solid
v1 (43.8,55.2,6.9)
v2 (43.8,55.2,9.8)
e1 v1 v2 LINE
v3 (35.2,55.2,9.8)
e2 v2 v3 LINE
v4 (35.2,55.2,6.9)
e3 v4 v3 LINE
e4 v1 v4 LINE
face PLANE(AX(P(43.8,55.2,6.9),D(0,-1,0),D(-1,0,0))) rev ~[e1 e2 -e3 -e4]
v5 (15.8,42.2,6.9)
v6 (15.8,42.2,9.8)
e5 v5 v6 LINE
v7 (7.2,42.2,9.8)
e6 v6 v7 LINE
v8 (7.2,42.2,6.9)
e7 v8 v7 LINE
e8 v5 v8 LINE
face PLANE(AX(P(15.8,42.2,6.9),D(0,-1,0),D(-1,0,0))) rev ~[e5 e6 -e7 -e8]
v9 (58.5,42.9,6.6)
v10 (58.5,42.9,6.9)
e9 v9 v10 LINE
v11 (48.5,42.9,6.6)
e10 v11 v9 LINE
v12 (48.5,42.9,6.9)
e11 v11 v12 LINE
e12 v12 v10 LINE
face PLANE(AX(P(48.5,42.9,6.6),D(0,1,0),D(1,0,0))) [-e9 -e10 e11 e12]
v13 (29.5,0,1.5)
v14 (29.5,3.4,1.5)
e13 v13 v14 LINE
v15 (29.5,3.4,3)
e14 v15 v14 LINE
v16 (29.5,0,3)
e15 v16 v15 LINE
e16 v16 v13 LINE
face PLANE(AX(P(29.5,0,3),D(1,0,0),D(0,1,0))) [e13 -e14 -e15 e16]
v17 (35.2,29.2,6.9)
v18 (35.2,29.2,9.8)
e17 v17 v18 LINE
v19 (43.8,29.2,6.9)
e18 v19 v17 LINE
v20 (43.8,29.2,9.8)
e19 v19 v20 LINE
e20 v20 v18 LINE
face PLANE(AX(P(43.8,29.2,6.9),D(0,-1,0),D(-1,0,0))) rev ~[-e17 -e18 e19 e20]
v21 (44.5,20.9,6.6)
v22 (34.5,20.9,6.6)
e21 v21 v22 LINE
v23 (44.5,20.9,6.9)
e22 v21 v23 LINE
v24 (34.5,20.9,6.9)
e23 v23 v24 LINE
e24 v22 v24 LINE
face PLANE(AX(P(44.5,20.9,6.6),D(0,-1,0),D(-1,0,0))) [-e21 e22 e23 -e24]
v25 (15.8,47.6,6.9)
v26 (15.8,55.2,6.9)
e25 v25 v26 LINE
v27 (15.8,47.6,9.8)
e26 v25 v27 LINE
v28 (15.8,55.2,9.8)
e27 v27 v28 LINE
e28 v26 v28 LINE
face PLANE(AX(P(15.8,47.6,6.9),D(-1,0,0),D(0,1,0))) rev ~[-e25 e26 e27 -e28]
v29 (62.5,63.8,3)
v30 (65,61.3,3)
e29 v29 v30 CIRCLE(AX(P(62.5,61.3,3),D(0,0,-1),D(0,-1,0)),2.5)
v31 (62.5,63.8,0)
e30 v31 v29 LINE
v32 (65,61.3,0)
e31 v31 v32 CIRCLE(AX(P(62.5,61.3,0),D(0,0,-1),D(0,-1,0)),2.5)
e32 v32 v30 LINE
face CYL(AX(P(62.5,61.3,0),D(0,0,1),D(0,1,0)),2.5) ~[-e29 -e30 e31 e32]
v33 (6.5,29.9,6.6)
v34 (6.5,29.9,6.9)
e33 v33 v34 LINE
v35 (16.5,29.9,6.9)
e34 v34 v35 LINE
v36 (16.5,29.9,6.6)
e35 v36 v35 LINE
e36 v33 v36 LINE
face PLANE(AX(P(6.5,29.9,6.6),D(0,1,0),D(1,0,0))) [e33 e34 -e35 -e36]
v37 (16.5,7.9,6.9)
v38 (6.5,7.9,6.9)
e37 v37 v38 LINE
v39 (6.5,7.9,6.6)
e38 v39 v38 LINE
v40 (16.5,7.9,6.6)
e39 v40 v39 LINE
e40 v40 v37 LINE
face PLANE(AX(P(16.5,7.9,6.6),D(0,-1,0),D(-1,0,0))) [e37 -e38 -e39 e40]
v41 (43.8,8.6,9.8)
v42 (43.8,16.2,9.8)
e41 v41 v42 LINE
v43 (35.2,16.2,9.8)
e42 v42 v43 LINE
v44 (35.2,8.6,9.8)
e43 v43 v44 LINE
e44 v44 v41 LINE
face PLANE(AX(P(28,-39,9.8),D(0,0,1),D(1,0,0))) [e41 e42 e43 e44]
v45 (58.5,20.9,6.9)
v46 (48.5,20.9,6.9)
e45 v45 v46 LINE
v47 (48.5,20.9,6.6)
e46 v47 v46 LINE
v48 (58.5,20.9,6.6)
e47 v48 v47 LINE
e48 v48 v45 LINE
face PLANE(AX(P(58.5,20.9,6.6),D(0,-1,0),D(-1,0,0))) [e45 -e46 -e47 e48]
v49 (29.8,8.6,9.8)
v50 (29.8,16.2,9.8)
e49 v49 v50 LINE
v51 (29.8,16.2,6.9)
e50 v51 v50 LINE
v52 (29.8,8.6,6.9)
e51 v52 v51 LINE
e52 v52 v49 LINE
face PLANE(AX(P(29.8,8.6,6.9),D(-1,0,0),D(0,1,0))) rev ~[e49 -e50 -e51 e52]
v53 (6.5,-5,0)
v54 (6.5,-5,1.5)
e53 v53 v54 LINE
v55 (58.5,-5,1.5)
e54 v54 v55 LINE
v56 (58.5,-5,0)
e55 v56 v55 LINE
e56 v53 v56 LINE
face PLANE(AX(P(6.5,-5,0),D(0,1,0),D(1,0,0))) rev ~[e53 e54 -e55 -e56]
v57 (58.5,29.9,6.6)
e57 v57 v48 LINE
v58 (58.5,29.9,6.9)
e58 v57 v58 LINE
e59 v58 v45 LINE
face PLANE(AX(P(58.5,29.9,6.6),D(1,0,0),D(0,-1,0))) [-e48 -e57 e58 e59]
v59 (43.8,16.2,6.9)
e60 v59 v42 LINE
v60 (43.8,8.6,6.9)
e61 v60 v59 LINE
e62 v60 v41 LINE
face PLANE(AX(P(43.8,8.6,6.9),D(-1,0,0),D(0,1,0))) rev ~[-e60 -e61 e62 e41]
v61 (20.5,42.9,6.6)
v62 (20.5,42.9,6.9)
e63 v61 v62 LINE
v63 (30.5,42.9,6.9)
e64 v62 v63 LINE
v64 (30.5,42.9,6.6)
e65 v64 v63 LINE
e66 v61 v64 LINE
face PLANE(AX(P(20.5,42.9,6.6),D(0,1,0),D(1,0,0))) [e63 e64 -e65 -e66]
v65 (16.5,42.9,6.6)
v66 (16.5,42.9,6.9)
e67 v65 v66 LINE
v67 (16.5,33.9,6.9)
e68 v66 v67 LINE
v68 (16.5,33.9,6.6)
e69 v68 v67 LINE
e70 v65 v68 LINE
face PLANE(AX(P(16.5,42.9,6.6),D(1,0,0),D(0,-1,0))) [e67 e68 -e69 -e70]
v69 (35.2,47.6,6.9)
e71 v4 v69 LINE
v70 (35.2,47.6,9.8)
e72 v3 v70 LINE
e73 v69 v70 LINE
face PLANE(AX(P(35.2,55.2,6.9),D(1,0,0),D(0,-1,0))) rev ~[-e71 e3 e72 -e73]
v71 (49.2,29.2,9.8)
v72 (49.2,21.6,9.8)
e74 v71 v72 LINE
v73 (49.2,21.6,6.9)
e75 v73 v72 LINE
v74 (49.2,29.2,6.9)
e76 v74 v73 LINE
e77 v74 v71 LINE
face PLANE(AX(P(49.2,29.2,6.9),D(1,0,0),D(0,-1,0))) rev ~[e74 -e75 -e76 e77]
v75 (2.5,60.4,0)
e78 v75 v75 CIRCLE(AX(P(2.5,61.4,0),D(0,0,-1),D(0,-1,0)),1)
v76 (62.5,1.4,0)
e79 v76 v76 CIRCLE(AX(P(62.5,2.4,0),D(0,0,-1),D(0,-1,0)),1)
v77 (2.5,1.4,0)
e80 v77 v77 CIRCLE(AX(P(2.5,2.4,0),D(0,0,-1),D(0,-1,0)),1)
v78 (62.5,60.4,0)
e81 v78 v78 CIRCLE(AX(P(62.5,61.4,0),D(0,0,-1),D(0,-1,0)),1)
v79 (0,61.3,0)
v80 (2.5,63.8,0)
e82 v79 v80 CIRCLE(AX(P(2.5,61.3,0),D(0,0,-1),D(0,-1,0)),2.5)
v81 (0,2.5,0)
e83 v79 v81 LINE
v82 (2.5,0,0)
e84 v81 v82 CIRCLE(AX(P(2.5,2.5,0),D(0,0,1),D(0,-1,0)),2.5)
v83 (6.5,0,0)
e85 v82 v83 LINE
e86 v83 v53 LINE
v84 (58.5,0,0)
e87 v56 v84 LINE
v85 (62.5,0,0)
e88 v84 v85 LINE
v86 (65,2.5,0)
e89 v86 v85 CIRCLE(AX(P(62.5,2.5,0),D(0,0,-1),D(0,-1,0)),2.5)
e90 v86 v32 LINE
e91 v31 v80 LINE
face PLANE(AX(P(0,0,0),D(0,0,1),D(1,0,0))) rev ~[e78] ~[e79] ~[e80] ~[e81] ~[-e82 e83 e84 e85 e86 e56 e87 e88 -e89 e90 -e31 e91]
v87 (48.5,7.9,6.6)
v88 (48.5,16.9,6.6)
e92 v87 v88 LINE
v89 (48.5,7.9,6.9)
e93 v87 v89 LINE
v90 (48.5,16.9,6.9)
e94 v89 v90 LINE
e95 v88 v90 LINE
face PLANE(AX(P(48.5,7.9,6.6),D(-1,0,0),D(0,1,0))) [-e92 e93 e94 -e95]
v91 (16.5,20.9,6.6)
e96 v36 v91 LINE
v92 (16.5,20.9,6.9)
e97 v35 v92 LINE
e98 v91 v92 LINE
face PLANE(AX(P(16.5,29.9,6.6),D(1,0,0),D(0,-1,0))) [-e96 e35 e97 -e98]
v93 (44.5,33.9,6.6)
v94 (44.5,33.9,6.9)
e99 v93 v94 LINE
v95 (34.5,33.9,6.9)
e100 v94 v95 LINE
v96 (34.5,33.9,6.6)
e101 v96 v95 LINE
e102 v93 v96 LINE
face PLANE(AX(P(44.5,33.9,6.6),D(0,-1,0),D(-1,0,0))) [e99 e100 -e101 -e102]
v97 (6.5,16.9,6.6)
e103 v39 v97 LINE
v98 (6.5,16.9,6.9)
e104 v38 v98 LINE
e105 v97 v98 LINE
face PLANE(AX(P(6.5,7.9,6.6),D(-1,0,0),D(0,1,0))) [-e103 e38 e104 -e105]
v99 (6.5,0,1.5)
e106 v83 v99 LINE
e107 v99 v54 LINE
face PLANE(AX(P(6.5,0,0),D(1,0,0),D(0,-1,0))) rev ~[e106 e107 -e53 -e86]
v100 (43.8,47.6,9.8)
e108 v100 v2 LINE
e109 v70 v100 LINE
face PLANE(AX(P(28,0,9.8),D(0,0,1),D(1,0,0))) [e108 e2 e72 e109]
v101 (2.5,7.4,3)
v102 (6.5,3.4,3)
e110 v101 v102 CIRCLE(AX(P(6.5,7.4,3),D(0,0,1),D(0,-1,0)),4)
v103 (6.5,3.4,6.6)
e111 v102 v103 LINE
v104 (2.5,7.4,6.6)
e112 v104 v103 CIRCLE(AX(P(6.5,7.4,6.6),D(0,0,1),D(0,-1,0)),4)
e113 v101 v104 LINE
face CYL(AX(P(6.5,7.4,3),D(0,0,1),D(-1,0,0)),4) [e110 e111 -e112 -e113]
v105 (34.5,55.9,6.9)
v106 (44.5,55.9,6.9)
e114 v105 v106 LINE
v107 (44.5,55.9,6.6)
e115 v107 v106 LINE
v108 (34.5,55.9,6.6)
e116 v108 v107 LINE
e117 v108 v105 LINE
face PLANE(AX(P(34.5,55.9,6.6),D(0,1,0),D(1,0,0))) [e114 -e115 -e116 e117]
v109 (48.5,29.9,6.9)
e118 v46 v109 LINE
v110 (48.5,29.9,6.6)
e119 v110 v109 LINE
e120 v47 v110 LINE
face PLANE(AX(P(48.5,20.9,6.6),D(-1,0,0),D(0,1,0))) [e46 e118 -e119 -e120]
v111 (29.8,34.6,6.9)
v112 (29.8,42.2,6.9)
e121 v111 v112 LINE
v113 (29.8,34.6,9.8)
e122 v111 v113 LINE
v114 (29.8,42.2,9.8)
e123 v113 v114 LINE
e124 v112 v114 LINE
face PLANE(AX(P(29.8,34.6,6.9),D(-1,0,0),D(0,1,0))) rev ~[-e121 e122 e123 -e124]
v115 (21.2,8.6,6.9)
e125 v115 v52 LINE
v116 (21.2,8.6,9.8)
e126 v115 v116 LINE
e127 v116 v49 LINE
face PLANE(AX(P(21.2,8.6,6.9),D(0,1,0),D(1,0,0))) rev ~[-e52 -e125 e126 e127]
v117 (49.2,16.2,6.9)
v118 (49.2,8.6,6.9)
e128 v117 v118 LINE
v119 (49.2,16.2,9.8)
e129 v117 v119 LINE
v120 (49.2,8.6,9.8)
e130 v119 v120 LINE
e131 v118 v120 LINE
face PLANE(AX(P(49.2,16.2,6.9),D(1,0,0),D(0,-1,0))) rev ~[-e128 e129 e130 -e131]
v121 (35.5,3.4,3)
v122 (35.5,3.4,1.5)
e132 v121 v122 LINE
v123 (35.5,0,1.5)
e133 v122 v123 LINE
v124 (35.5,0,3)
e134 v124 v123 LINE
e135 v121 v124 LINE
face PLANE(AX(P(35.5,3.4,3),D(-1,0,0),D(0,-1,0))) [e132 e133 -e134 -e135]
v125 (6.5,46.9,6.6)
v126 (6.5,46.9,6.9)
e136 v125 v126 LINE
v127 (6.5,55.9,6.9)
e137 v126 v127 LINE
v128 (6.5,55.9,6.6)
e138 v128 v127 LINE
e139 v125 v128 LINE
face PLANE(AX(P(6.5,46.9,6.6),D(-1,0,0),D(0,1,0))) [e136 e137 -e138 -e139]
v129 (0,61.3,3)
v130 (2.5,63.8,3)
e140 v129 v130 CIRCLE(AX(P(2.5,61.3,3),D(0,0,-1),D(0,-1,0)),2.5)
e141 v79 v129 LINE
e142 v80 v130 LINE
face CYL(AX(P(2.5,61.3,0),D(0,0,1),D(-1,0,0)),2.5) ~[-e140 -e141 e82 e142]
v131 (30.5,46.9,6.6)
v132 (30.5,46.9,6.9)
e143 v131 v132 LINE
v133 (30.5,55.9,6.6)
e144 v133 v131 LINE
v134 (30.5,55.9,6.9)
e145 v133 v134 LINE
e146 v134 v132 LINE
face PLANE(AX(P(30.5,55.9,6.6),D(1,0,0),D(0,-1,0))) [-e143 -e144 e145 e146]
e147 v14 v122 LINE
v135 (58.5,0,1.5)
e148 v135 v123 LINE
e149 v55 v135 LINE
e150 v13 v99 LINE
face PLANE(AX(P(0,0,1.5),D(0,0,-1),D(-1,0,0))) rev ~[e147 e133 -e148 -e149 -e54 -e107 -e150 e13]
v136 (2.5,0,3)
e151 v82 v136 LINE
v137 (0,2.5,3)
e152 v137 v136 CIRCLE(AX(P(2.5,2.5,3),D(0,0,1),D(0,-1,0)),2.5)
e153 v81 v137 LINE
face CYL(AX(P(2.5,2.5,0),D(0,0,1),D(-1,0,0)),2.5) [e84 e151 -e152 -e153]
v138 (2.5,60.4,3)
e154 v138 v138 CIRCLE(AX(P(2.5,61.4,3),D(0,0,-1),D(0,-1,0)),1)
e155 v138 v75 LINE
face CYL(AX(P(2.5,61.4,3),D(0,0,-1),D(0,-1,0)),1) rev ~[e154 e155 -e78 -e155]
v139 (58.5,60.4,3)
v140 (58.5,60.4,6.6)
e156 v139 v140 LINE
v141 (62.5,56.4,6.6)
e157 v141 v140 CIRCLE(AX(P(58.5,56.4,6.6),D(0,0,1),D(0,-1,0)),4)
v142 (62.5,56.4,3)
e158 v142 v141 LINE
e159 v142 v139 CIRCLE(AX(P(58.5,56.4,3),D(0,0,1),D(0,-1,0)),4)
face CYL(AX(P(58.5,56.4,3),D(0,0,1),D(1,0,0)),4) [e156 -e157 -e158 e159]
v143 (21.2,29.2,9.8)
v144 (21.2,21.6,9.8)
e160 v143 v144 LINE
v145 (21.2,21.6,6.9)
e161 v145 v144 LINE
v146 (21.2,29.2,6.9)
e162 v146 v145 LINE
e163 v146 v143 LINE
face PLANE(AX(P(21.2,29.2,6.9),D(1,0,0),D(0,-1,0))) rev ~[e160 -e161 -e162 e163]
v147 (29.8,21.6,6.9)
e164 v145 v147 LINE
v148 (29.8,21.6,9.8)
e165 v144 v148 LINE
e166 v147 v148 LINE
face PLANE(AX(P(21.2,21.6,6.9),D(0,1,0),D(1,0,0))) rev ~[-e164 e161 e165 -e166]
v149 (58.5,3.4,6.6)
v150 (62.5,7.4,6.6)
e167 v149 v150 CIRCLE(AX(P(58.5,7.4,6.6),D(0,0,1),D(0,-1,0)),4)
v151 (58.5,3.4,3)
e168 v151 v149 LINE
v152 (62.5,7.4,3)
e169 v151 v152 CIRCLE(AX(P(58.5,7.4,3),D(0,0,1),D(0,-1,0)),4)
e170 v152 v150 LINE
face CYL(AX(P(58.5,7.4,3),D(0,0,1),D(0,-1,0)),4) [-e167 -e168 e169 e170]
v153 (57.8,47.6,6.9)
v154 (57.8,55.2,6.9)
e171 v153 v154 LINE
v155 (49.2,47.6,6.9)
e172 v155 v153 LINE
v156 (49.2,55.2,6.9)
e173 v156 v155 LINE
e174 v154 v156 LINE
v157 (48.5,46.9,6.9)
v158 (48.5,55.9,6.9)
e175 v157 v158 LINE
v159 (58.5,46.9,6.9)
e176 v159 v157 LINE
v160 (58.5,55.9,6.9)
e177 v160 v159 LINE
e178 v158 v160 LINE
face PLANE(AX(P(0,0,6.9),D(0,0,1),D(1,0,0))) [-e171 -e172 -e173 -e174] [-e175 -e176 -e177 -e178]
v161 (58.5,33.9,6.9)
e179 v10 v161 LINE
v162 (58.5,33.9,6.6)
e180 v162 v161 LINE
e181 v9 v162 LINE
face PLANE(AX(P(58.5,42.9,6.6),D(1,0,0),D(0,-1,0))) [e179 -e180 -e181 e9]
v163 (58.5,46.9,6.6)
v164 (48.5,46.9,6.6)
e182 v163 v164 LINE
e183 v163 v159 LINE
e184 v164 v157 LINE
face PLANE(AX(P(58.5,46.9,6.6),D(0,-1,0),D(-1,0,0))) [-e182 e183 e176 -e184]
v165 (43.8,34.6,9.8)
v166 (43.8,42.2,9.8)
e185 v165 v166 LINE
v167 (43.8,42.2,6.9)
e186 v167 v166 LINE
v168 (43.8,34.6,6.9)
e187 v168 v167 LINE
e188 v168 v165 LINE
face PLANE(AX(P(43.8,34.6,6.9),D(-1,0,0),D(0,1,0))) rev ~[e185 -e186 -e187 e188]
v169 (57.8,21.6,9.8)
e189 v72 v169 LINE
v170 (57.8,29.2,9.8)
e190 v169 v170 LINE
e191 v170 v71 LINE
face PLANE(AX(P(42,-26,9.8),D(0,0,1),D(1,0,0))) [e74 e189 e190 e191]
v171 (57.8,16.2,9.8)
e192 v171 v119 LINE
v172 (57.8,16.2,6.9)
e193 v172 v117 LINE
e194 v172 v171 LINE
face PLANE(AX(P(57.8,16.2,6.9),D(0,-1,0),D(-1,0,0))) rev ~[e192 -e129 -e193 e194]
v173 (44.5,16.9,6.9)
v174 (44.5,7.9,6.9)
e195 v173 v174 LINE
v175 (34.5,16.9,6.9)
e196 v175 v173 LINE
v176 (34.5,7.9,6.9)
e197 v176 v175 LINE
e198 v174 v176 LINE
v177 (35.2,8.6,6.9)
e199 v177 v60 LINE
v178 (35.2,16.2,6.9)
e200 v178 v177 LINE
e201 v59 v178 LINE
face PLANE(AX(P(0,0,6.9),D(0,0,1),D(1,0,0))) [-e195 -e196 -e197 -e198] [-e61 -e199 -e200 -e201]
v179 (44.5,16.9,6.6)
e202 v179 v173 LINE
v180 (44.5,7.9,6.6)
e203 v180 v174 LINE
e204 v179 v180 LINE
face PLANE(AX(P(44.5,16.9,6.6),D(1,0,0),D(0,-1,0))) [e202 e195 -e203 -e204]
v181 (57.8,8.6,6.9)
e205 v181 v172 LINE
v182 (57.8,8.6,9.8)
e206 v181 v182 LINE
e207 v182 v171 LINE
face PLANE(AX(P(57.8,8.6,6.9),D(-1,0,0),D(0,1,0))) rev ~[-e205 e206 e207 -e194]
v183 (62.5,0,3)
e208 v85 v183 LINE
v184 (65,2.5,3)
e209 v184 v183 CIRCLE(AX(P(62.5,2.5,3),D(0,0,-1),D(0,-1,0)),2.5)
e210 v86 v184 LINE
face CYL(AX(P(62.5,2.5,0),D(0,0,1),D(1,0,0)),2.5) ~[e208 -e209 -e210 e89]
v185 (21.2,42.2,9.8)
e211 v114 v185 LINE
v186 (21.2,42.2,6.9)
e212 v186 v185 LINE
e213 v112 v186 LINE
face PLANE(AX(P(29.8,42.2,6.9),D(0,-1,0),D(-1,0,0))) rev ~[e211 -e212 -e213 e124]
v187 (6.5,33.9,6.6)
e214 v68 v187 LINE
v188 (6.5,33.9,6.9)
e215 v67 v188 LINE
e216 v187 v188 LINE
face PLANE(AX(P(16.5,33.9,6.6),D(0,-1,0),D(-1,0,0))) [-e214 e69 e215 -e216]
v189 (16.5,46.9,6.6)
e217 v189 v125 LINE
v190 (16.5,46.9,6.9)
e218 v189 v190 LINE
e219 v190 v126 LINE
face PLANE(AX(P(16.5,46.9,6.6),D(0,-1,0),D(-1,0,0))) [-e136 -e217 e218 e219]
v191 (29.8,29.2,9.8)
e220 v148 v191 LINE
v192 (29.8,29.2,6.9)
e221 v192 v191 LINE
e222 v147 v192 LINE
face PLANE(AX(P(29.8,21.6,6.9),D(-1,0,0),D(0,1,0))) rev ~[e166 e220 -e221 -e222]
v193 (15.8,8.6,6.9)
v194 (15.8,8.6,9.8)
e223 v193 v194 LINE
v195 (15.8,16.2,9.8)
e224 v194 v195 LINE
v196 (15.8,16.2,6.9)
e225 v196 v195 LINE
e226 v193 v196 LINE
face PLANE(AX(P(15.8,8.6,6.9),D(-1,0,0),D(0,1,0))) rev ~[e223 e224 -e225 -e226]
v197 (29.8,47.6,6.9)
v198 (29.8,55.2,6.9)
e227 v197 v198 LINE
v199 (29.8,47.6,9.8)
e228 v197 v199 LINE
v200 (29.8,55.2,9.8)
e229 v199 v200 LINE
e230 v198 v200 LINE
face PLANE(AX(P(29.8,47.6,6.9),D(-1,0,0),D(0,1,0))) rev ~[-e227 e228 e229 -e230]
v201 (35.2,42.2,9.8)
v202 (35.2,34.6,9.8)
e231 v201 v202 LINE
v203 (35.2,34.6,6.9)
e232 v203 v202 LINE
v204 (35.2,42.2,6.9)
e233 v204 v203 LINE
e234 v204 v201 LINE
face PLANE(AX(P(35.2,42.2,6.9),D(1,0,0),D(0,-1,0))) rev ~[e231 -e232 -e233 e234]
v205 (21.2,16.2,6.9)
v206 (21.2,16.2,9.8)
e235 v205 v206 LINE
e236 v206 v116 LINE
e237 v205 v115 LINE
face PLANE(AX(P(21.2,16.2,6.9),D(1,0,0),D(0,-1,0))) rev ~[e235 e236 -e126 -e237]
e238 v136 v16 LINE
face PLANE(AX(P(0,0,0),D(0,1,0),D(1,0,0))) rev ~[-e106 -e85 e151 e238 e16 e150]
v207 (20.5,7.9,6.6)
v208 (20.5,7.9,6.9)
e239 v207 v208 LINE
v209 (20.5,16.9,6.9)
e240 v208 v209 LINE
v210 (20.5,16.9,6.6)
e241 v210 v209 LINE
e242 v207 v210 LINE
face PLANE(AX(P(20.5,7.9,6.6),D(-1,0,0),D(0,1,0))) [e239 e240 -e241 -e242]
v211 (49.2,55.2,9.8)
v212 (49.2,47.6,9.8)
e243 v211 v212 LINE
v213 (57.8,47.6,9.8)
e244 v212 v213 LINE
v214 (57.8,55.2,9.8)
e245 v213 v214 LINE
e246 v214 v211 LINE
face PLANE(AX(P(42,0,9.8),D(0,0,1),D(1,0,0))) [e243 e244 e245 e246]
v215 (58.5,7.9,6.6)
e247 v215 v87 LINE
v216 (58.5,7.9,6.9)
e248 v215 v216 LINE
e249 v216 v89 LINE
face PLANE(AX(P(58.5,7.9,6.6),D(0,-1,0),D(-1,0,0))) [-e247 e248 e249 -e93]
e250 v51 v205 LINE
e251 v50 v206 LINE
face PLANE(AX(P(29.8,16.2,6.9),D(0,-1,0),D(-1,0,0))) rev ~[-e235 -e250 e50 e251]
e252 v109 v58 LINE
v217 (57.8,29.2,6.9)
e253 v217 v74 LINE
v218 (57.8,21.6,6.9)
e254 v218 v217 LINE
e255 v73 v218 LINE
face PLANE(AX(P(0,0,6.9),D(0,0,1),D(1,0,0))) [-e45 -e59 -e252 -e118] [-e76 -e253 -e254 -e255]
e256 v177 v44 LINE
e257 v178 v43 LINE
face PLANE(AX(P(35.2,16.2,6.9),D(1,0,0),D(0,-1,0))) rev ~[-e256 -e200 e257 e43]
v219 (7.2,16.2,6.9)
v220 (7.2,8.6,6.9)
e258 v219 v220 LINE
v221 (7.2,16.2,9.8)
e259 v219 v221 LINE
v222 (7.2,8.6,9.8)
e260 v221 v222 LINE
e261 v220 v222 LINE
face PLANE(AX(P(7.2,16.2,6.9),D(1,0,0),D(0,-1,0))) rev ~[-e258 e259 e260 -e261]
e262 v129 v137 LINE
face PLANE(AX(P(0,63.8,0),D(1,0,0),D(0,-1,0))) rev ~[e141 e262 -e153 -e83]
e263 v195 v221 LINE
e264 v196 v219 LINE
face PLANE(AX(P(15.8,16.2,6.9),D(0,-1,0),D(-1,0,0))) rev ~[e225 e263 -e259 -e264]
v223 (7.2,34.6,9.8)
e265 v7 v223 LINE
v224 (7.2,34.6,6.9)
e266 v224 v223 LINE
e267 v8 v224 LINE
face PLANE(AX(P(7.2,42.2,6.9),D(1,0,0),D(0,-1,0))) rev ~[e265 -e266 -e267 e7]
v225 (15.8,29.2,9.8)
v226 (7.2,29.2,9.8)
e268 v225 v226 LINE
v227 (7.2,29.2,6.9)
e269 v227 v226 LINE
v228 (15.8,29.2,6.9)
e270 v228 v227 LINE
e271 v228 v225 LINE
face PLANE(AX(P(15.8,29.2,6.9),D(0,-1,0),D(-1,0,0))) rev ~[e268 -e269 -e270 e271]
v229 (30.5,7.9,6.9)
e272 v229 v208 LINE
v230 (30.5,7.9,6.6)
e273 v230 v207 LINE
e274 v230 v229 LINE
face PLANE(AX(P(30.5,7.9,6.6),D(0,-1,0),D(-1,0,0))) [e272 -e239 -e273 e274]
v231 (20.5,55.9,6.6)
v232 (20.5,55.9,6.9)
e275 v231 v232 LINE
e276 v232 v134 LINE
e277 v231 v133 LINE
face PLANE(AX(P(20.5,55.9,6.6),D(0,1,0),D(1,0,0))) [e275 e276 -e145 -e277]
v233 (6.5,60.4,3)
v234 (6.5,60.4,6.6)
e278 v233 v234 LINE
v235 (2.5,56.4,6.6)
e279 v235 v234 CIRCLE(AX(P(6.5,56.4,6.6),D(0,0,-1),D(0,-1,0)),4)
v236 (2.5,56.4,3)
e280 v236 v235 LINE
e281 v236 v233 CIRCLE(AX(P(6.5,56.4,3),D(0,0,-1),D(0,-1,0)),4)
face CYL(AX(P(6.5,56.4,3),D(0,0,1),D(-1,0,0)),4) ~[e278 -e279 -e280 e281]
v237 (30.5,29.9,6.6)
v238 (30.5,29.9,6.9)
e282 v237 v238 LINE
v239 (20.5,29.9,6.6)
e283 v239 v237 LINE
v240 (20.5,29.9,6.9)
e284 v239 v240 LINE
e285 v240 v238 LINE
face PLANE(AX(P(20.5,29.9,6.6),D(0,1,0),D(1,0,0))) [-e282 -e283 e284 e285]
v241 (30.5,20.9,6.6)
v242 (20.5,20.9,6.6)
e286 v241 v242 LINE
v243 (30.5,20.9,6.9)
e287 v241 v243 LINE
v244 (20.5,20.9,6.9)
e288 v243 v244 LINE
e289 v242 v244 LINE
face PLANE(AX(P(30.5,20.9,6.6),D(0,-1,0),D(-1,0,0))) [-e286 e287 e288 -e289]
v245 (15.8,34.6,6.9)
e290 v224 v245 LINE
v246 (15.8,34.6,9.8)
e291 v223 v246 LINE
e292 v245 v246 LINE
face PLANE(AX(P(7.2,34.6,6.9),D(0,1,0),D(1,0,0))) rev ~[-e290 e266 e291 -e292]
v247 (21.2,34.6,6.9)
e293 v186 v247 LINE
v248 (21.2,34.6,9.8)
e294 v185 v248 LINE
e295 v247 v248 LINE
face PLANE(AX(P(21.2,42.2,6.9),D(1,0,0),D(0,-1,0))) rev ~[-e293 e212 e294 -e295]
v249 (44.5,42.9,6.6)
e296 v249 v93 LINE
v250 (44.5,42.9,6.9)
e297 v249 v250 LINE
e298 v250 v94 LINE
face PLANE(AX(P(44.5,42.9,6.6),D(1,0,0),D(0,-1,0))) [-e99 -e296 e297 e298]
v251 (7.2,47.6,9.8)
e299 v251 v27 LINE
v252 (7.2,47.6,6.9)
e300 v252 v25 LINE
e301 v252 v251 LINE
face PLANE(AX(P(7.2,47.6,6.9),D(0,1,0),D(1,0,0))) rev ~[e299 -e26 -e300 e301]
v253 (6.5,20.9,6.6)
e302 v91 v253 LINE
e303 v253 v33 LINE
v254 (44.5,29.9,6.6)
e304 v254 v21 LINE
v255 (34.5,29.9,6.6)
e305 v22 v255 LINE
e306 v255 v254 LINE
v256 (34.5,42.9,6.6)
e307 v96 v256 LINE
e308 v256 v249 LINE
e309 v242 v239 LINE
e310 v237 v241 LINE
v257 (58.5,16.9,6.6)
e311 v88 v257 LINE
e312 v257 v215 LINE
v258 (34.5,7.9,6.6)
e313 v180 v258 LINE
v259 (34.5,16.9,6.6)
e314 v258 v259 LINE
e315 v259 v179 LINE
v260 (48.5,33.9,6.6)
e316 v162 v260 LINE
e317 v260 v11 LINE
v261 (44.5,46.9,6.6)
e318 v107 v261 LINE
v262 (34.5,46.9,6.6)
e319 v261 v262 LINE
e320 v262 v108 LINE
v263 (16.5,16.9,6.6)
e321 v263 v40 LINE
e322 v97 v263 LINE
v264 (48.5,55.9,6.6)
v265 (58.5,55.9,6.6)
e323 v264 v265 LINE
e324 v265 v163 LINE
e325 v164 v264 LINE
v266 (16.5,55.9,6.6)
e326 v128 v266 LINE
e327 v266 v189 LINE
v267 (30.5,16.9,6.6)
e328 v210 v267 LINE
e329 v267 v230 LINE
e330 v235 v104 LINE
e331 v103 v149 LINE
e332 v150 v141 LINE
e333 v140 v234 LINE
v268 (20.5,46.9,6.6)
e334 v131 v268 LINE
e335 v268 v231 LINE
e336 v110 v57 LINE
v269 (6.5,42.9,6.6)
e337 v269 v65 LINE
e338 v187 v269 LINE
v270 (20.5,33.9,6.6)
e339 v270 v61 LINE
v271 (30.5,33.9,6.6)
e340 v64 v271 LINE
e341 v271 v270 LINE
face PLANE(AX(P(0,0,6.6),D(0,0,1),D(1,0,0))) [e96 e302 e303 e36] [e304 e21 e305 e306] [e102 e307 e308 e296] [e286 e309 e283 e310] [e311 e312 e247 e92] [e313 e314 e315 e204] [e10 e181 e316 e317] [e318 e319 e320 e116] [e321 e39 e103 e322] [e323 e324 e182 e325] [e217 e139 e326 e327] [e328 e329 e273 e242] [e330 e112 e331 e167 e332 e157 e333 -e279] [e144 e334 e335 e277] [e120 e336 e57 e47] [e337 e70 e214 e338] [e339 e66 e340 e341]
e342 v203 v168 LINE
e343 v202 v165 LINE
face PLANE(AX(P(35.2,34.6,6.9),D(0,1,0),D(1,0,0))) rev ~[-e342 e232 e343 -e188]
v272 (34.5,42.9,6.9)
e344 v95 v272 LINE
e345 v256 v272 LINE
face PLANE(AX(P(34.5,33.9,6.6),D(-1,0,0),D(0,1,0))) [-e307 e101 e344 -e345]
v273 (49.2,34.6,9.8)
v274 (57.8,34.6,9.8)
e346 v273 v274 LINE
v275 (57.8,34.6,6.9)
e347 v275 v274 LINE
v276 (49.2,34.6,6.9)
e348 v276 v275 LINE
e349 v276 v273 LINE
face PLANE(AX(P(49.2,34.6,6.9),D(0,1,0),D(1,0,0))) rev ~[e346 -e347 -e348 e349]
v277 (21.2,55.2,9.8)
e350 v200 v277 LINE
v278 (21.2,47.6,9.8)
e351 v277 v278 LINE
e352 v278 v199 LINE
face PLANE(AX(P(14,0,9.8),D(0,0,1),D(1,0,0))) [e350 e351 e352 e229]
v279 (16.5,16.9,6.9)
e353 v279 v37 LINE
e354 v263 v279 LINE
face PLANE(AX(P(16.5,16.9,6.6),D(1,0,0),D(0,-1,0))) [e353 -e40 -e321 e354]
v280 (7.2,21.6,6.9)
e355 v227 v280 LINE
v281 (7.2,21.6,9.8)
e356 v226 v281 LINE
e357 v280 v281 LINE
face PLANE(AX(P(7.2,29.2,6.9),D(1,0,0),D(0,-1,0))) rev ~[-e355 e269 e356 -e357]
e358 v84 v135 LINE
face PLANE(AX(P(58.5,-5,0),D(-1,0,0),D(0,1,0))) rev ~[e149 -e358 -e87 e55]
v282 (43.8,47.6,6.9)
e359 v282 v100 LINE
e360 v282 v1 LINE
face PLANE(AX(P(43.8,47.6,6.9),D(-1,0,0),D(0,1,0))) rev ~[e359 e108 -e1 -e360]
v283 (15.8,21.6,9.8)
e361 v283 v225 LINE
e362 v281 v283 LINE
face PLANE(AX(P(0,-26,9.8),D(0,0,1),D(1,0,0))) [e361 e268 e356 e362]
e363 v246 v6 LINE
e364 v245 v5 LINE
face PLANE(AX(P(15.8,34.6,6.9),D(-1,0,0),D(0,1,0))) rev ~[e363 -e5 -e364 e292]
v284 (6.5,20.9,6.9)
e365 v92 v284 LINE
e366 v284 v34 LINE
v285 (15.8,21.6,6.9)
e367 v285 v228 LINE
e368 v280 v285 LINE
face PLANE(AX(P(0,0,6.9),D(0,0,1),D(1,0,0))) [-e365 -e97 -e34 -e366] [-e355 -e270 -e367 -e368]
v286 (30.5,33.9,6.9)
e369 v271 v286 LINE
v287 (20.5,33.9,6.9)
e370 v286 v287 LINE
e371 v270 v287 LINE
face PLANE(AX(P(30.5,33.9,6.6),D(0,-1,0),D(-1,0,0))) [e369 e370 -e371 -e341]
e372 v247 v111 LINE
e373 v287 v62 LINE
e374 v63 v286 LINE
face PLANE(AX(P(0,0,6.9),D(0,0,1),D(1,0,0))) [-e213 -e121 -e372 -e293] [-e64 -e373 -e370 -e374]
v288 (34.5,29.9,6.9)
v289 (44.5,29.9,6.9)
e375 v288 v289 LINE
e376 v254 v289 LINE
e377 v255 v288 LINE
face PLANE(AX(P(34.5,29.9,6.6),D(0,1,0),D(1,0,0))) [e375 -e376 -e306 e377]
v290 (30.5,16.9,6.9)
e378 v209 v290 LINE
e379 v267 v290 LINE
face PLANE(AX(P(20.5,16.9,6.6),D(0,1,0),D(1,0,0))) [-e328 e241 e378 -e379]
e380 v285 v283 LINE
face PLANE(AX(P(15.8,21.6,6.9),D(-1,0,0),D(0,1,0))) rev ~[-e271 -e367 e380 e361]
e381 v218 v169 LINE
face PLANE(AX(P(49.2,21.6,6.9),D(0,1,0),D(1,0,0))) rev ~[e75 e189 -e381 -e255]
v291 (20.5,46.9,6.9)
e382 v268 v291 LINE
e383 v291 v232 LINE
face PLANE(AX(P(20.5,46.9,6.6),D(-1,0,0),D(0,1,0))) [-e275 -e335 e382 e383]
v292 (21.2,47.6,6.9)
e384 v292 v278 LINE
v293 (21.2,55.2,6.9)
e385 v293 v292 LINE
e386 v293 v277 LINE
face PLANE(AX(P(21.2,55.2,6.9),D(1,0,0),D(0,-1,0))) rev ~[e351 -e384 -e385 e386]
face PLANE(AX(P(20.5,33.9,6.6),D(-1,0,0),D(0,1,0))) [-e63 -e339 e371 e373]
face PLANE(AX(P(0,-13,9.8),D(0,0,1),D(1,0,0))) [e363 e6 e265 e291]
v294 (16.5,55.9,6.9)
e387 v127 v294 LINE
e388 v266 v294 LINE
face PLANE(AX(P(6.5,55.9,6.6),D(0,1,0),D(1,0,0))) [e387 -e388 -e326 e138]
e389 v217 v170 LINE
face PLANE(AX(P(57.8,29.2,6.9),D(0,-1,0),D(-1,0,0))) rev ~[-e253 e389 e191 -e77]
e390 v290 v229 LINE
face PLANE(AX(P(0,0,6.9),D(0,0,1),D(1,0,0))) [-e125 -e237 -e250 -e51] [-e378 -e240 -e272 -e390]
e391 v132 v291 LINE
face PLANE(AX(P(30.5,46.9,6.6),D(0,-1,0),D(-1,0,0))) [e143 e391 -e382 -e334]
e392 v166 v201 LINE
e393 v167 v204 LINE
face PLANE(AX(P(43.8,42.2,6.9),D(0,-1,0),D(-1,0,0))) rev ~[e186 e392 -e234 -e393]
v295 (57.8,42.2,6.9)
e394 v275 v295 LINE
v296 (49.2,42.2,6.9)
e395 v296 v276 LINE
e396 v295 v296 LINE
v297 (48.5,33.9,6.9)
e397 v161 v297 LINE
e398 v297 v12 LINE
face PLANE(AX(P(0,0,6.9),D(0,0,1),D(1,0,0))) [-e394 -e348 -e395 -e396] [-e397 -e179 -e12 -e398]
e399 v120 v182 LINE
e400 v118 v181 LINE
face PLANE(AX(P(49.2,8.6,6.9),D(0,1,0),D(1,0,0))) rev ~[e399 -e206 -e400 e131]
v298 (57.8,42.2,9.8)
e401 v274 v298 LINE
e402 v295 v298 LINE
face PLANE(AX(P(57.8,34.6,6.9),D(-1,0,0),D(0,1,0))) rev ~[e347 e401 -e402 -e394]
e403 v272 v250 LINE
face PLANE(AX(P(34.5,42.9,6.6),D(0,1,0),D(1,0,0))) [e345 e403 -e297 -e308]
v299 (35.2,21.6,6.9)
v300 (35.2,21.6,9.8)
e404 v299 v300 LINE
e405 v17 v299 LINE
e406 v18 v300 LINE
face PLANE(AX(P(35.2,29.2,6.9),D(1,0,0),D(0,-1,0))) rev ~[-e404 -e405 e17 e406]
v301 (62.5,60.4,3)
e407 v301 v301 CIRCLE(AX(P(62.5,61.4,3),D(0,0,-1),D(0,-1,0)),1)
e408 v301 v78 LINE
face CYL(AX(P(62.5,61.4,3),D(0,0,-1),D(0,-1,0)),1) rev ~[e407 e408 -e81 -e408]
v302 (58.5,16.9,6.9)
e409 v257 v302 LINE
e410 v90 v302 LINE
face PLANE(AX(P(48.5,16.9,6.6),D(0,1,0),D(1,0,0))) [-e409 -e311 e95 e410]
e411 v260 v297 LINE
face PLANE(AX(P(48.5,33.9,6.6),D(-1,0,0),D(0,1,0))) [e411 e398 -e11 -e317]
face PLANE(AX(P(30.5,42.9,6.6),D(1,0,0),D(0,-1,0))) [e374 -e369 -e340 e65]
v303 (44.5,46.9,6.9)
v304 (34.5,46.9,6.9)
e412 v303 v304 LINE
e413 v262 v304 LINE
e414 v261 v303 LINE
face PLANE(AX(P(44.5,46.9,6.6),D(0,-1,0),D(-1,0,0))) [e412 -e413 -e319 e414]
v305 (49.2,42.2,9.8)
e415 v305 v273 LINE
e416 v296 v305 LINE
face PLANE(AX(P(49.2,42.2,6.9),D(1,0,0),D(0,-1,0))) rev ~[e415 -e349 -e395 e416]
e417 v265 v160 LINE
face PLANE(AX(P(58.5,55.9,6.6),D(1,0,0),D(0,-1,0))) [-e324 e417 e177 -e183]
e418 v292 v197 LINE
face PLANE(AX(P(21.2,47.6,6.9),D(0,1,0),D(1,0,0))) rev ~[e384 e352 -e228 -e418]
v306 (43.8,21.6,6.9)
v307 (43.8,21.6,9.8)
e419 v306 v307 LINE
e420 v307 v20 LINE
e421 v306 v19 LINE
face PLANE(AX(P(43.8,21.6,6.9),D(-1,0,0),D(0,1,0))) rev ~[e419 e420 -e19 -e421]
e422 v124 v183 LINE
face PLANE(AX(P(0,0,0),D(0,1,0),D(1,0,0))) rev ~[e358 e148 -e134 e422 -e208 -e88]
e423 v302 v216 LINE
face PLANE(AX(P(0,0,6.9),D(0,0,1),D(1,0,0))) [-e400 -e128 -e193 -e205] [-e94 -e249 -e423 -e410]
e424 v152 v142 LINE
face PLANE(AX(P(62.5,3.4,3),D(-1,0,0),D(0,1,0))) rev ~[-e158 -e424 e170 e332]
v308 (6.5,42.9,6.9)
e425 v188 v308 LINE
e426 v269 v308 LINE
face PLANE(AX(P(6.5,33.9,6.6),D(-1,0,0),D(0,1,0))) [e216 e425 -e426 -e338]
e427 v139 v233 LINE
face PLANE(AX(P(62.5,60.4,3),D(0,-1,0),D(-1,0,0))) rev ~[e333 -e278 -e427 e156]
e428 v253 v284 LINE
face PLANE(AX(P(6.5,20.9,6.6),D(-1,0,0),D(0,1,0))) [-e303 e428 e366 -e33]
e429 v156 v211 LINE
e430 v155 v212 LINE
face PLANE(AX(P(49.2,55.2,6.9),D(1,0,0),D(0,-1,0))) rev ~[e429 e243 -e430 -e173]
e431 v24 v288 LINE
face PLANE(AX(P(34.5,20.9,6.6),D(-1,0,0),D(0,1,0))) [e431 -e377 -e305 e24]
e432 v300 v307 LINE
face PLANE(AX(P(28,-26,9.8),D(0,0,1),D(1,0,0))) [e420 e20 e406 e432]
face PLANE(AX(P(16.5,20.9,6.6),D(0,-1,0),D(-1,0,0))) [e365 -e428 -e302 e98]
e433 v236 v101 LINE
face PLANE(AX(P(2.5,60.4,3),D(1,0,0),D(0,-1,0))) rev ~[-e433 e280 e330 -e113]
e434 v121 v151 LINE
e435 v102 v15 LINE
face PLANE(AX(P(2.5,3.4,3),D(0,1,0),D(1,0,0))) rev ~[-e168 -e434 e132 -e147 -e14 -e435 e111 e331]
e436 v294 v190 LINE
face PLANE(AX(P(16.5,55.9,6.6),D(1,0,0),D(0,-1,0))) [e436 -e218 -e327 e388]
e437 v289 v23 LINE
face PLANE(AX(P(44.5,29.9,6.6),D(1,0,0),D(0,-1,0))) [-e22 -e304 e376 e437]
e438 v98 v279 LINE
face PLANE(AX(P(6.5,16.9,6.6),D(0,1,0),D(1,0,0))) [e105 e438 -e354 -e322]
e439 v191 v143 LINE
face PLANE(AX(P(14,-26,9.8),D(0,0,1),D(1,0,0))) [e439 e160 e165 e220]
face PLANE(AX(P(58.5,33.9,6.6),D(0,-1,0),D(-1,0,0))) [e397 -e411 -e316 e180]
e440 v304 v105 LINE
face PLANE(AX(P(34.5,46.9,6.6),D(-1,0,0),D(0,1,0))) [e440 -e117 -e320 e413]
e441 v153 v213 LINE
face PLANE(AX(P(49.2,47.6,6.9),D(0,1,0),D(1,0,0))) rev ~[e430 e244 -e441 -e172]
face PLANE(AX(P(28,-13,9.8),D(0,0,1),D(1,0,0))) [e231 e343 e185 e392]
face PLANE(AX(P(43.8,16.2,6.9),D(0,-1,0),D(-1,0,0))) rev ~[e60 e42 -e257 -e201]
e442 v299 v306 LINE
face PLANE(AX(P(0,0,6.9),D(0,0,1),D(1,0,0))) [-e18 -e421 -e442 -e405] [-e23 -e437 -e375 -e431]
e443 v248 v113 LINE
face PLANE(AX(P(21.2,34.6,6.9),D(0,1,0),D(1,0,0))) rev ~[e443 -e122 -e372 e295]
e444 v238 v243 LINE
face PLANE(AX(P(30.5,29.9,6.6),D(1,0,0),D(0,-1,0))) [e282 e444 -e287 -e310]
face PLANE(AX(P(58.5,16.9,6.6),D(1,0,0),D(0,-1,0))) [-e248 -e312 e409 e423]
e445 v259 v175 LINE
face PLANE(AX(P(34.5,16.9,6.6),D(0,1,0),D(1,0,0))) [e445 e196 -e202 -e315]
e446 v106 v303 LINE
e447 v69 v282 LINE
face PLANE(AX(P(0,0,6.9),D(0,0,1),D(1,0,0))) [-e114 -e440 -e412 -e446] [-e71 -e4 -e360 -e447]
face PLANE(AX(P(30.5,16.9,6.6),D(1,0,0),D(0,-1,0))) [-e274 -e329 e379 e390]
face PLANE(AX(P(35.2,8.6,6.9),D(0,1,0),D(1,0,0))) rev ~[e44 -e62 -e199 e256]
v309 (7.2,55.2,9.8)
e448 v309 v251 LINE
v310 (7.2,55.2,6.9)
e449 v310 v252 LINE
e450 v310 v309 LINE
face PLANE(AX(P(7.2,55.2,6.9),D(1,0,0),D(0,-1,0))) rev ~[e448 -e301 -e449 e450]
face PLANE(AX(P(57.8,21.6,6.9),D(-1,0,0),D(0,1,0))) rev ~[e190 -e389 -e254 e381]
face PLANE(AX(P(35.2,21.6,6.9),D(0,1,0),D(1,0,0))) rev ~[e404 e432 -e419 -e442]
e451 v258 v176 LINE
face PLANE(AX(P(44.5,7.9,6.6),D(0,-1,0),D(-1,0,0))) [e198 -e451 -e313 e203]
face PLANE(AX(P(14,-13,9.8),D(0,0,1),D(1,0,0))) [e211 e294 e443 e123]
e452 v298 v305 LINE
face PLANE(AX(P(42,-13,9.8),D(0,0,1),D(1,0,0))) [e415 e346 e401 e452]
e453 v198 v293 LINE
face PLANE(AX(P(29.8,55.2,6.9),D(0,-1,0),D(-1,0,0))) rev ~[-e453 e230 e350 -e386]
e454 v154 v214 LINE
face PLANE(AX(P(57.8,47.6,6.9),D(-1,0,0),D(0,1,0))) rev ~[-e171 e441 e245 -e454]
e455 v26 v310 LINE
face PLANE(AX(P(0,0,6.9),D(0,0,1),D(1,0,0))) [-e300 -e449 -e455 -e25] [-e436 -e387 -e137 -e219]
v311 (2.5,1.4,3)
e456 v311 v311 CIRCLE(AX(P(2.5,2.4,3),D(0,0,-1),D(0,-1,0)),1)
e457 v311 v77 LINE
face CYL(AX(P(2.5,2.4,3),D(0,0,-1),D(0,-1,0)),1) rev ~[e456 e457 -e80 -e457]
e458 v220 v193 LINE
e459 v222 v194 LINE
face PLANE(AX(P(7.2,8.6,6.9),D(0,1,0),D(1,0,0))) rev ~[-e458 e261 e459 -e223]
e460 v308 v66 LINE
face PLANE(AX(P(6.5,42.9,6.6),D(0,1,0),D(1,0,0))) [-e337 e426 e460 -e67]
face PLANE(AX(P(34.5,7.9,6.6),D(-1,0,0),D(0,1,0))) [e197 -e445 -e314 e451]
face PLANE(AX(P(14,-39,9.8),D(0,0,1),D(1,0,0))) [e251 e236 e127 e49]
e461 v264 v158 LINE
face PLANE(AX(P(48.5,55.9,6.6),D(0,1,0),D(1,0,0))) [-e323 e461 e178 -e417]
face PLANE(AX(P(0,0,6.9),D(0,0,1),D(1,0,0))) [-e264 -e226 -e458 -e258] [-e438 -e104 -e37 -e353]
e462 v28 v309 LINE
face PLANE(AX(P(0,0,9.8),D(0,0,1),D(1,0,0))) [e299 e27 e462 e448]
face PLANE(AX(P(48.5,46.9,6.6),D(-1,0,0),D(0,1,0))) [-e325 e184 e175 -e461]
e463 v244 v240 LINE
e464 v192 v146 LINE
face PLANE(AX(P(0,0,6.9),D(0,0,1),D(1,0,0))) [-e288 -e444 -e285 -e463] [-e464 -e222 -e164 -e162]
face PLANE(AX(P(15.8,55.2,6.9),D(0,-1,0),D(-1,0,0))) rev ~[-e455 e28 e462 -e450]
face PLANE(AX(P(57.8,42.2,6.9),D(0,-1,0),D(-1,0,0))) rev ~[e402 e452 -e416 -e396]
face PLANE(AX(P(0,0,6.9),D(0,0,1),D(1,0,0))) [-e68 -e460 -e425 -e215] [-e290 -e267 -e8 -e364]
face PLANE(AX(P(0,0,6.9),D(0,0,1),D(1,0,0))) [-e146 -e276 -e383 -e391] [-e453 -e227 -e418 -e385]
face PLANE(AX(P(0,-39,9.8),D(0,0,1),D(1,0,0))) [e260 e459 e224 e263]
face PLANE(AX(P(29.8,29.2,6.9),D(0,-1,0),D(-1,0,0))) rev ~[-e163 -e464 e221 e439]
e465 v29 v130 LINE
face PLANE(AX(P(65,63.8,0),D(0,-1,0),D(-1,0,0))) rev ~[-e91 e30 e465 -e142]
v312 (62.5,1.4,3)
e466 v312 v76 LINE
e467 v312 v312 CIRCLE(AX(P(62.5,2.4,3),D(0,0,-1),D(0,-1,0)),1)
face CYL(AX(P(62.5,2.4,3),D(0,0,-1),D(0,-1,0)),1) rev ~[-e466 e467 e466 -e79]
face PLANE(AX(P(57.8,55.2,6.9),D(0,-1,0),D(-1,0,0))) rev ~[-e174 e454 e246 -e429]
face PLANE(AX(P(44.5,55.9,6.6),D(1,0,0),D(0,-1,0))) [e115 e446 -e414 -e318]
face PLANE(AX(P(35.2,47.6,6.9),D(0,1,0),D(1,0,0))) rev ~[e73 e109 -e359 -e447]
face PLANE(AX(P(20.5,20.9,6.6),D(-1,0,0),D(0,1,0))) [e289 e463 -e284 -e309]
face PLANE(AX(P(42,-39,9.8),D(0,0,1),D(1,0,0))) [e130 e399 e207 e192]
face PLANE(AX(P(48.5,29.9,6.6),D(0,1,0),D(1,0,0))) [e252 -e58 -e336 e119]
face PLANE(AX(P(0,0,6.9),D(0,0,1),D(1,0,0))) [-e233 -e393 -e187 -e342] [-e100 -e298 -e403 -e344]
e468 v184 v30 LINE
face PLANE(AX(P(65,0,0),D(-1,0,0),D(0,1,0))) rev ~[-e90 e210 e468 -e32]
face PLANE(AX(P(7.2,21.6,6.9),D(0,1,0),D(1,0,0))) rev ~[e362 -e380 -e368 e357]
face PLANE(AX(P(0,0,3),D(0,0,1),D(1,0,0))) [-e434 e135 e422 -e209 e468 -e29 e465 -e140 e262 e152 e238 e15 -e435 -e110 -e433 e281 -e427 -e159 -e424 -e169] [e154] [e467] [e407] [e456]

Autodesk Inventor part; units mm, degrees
ref_plane "YZ Plane" through (0, 0, 0) normal (1, 0, 0) x (0, 1, 0)
ref_plane "XZ Plane" through (0, 0, 0) normal (0, 1, 0) x (-1, 0, 0)
ref_plane "XY Plane" through (0, 0, 0) normal (0, 0, 1) x (1, 0, 0)
sketch "Sketch1" plane through (0, 0, 0) normal (0, 0, 1) x (1, 0, 0)
  line L0 (0, 0) -> (65, 0)
  line L1 (65, 0) -> (65, 63.8)
  line L2 (65, 63.8) -> (0, 63.8)
  line L3 (0, 63.8) -> (0, 0)
  dimension "d0" = 65
  dimension "d1" = 63.8
extrude "Extrusion1" add sketch "Sketch1" along normal blind 3
fillet "Fillet1" radius 2.5 4 edges at (65, 63.8, 1.5) (0, 63.8, 1.5) (65, 0, 1.5) (0, 0, 1.5)
sketch "Sketch2" plane through (0, 0, 3) normal (0, 0, 1) x (1, 0, 0)
  line L0 (2.5, 3.4) -> (62.5, 3.4)
  line L1 (62.5, 3.4) -> (62.5, 60.4)
  line L2 (62.5, 60.4) -> (2.5, 60.4)
  line L3 (2.5, 60.4) -> (2.5, 3.4)
  line L4 (2.5, 0) -> (62.5, 0) projected
  line L5 (0, 61.3) -> (0, 2.5) projected
  point P0 (0, 0)
  dimension "d5" = 60
  dimension "d6" = 57
  dimension "d7" = 3.4
  dimension "d8" = 2.5
extrude "Extrusion2" add sketch "Sketch2" along normal blind 3.6
fillet "Fillet2" radius 4 4 edges at (62.5, 60.4, 4.8) (2.5, 60.4, 4.8) (62.5, 3.4, 4.8) (2.5, 3.4, 4.8)
sketch "Sketch3" plane through (0, 0, 6.6) normal (0, 0, 1) x (1, 0, 0)
  line L0 (6.5, 55.9) -> (16.5, 55.9)
  line L1 (16.5, 55.9) -> (16.5, 46.9)
  line L2 (16.5, 46.9) -> (6.5, 46.9)
  line L3 (6.5, 46.9) -> (6.5, 55.9)
  line L4 (6.5, 42.9) -> (16.5, 42.9)
  line L5 (16.5, 42.9) -> (16.5, 33.9)
  line L6 (16.5, 33.9) -> (6.5, 33.9)
  line L7 (6.5, 33.9) -> (6.5, 42.9)
  line L8 (6.5, 29.9) -> (16.5, 29.9)
  line L9 (16.5, 29.9) -> (16.5, 20.9)
  line L10 (16.5, 20.9) -> (6.5, 20.9)
  line L11 (6.5, 20.9) -> (6.5, 29.9)
  line L12 (6.5, 16.9) -> (16.5, 16.9)
  line L13 (16.5, 16.9) -> (16.5, 7.9)
  line L14 (16.5, 7.9) -> (6.5, 7.9)
  line L15 (6.5, 7.9) -> (6.5, 16.9)
  line L16 (20.5, 55.9) -> (30.5, 55.9)
  line L17 (30.5, 55.9) -> (30.5, 46.9)
  line L18 (30.5, 46.9) -> (20.5, 46.9)
  line L19 (20.5, 46.9) -> (20.5, 55.9)
  line L20 (20.5, 42.9) -> (30.5, 42.9)
  line L21 (30.5, 42.9) -> (30.5, 33.9)
  line L22 (30.5, 33.9) -> (20.5, 33.9)
  line L23 (20.5, 33.9) -> (20.5, 42.9)
  line L24 (20.5, 29.9) -> (30.5, 29.9)
  line L25 (30.5, 29.9) -> (30.5, 20.9)
  line L26 (30.5, 20.9) -> (20.5, 20.9)
  line L27 (20.5, 20.9) -> (20.5, 29.9)
  line L28 (20.5, 16.9) -> (30.5, 16.9)
  line L29 (30.5, 16.9) -> (30.5, 7.9)
  line L30 (30.5, 7.9) -> (20.5, 7.9)
  line L31 (20.5, 7.9) -> (20.5, 16.9)
  line L32 (34.5, 55.9) -> (44.5, 55.9)
  line L33 (44.5, 55.9) -> (44.5, 46.9)
  line L34 (44.5, 46.9) -> (34.5, 46.9)
  line L35 (34.5, 46.9) -> (34.5, 55.9)
  line L36 (34.5, 42.9) -> (44.5, 42.9)
  line L37 (44.5, 42.9) -> (44.5, 33.9)
  line L38 (44.5, 33.9) -> (34.5, 33.9)
  line L39 (34.5, 33.9) -> (34.5, 42.9)
  line L40 (34.5, 29.9) -> (44.5, 29.9)
  line L41 (44.5, 29.9) -> (44.5, 20.9)
  line L42 (44.5, 20.9) -> (34.5, 20.9)
  line L43 (34.5, 20.9) -> (34.5, 29.9)
  line L44 (34.5, 16.9) -> (44.5, 16.9)
  line L45 (44.5, 16.9) -> (44.5, 7.9)
  line L46 (44.5, 7.9) -> (34.5, 7.9)
  line L47 (34.5, 7.9) -> (34.5, 16.9)
  line L48 (48.5, 55.9) -> (58.5, 55.9)
  line L49 (58.5, 55.9) -> (58.5, 46.9)
  line L50 (58.5, 46.9) -> (48.5, 46.9)
  line L51 (48.5, 46.9) -> (48.5, 55.9)
  line L52 (48.5, 42.9) -> (58.5, 42.9)
  line L53 (58.5, 42.9) -> (58.5, 33.9)
  line L54 (58.5, 33.9) -> (48.5, 33.9)
  line L55 (48.5, 33.9) -> (48.5, 42.9)
  line L56 (48.5, 29.9) -> (58.5, 29.9)
  line L57 (58.5, 29.9) -> (58.5, 20.9)
  line L58 (58.5, 20.9) -> (48.5, 20.9)
  line L59 (48.5, 20.9) -> (48.5, 29.9)
  line L60 (48.5, 16.9) -> (58.5, 16.9)
  line L61 (58.5, 16.9) -> (58.5, 7.9)
  line L62 (58.5, 7.9) -> (48.5, 7.9)
  line L63 (48.5, 7.9) -> (48.5, 16.9)
  line L64 (2.5, 56.4) -> (2.5, 7.4) projected
  line L65 (58.5, 60.4) -> (6.5, 60.4) projected
  point P0 (0, 0)
  dimension "d12" = 10
  dimension "d13" = 9
  dimension "d16" = 13
  dimension "d19" = 14
  dimension "d22" = 52
  dimension "d23" = 4
  dimension "d24" = 48
  dimension "d25" = 22
  dimension "d26" = 24
  dimension "d27" = 4.5
extrude "Extrusion3" add sketch "Sketch3" along normal blind 0.3
sketch "Sketch4" plane through (0, 0, 6.9) normal (0, 0, 1) x (1, 0, 0)
  line L0 (7.2, 47.6) -> (15.8, 47.6)
  line L1 (15.8, 47.6) -> (15.8, 55.2)
  line L2 (15.8, 55.2) -> (7.2, 55.2)
  line L3 (7.2, 55.2) -> (7.2, 47.6)
  line L4 (6.5, 55.9) -> (6.5, 46.9) projected
  line L5 (6.5, 46.9) -> (16.5, 46.9) projected
  point P0 (0, 0)
  dimension "d30" = 8.6
  dimension "d31" = 7.6
  dimension "d32" = 0.7
  dimension "d33" = 0.7
extrude "Extrusion4" add sketch "Sketch4" along normal blind 2.9
pattern_linear "Rectangular Pattern1" count 4 spacing 13 along (0, -1, 0) count 4 spacing 14 along (1, 0, 0) of "Extrusion4"
sketch "Sketch5" plane through (0, 0, 3) normal (0, 0, 1) x (1, 0, 0)
  line L0 (2.5, 0) -> (62.5, 0) projected
  line L1 (29.5, 3.4) -> (35.5, 3.4)
  line L2 (35.5, 3.4) -> (35.5, 0)
  line L3 (35.5, 0) -> (29.5, 0)
  line L4 (29.5, 0) -> (29.5, 3.4)
  line L5 (6.5, 3.4) -> (58.5, 3.4) projected
  line L6 (65, 2.5) -> (65, 61.3) projected
  line L7 (0, 61.3) -> (0, 2.5) projected
  point P0 (0, 0)
  dimension "d42" = 6
  dimension "d43" = 0
  dimension "d44" = 29.5
  dimension "d45" = 29.5
extrude "Extrusion5" cut sketch "Sketch5" against normal through all
sketch "Sketch6" plane through (0, 0, 0) normal (0, 0, -1) x (-1, 0, 0)
  line L0 (-6.5, 7.9) -> (-6.5, 16.9) projected
  line L1 (-58.5, 16.9) -> (-58.5, 7.9) projected
  line L2 (-6.5, 3.4) -> (-58.5, 3.4) projected
  line L3 (-58.5, 3.4) -> (-6.5, 3.4)
  line L4 (-6.5, 3.4) -> (-6.5, -5)
  line L5 (-6.5, -5) -> (-58.5, -5)
  line L6 (-58.5, -5) -> (-58.5, 3.4)
  line L7 (-2.5, 0) -> (-29.5, 0) projected
  point P0 (0, 0)
  dimension "d48" = 5
extrude "Extrusion6" add sketch "Sketch6" against normal blind 1.5
sketch "Sketch7" plane through (0, 0, 3) normal (0, 0, 1) x (1, 0, 0)
  line L0 (2.5, 2.4) -> (62.5, 2.4)
  line L1 (62.5, 2.4) -> (62.5, 61.4)
  line L2 (62.5, 61.4) -> (2.5, 61.4)
  line L3 (2.5, 61.4) -> (2.5, 2.4)
  line L4 (65, 2.5) -> (65, 61.3) projected
  line L5 (62.5, 63.8) -> (2.5, 63.8) projected
  point P0 (0, 0)
  dimension "d51" = 60
  dimension "d52" = 59
  dimension "d53" = 2.5
  dimension "d54" = 2.4
hole "Hole1" at (62.5, 61.4, 3) at (62.5, 2.4, 3) at (2.5, 2.4, 3) at (2.5, 61.4, 3) direction (0, 0, -1) diameter 2 end through all
sketch "Sketch9" plane through (0, 0, 9.8) normal (0, 0, 1) x (1, 0, 0)
  line L0 (9.6076, 54.1981) -> (13.48, 54.1981) construction
  line L1 (13.48, 54.1981) -> (13.48, 49.6601) construction
  line L2 (13.48, 49.6601) -> (9.6076, 49.6601) construction
  line L3 (9.6076, 49.6601) -> (9.6076, 54.1981) construction
  line L4 (23.8211, 53.9737) -> (27.6934, 53.9737) construction
  line L5 (27.6934, 53.9737) -> (27.6934, 49.4357) construction
  line L6 (27.6934, 49.4357) -> (23.8211, 49.4357) construction
  line L7 (23.8211, 49.4357) -> (23.8211, 53.9737) construction
  line L8 (37.5104, 54.003) -> (41.3828, 54.003) construction
  line L9 (41.3828, 54.003) -> (41.3828, 49.465) construction
  line L10 (41.3828, 49.465) -> (37.5104, 49.465) construction
  line L11 (37.5104, 49.465) -> (37.5104, 54.003) construction
  line L12 (51.8676, 49.4469) -> (51.8676, 53.9849) construction
  line L13 (51.8676, 53.9849) -> (55.74, 53.9849) construction
  line L14 (55.74, 53.9849) -> (55.74, 49.4469) construction
  line L15 (55.74, 49.4469) -> (51.8676, 49.4469) construction
  line L16 (9.9297, 41.8514) -> (13.802, 41.8514) construction
  line L17 (13.802, 41.8514) -> (13.802, 37.3134) construction
  line L18 (13.802, 37.3134) -> (9.9297, 37.3134) construction
  line L19 (9.9297, 37.3134) -> (9.9297, 41.8514) construction
  line L20 (24.1431, 37.0889) -> (24.1431, 41.627) construction
  line L21 (24.1431, 41.627) -> (28.0155, 41.627) construction
  line L22 (28.0155, 41.627) -> (28.0155, 37.0889) construction
  line L23 (28.0155, 37.0889) -> (24.1431, 37.0889) construction
  line L24 (37.8325, 37.1182) -> (37.8325, 41.6562) construction
  line L25 (37.8325, 41.6562) -> (41.7049, 41.6562) construction
  line L26 (41.7049, 41.6562) -> (41.7049, 37.1182) construction
  line L27 (41.7049, 37.1182) -> (37.8325, 37.1182) construction
  line L28 (52.1897, 37.1001) -> (52.1897, 41.6381) construction
  line L29 (52.1897, 41.6381) -> (56.0621, 41.6381) construction
  line L30 (56.0621, 41.6381) -> (56.0621, 37.1001) construction
  line L31 (56.0621, 37.1001) -> (52.1897, 37.1001) construction
  line L32 (9.8143, 28.2237) -> (13.6866, 28.2237) construction
  line L33 (13.6866, 28.2237) -> (13.6866, 23.6857) construction
  line L34 (13.6866, 23.6857) -> (9.8143, 23.6857) construction
  line L35 (9.8143, 23.6857) -> (9.8143, 28.2237) construction
  line L36 (24.0277, 23.4613) -> (24.0277, 27.9993) construction
  line L37 (24.0277, 27.9993) -> (27.9001, 27.9993) construction
  line L38 (27.9001, 27.9993) -> (27.9001, 23.4613) construction
  line L39 (27.9001, 23.4613) -> (24.0277, 23.4613) construction
  line L40 (37.7171, 23.4906) -> (37.7171, 28.0286) construction
  line L41 (37.7171, 28.0286) -> (41.5894, 28.0286) construction
  line L42 (41.5894, 28.0286) -> (41.5894, 23.4906) construction
  line L43 (41.5894, 23.4906) -> (37.7171, 23.4906) construction
  line L44 (52.0743, 23.4725) -> (52.0743, 28.0105) construction
  line L45 (52.0743, 28.0105) -> (55.9466, 28.0105) construction
  line L46 (55.9466, 28.0105) -> (55.9466, 23.4725) construction
  line L47 (55.9466, 23.4725) -> (52.0743, 23.4725) construction
  line L48 (9.4563, 9.4122) -> (9.4563, 13.9502) construction
  line L49 (9.4563, 13.9502) -> (13.3287, 13.9502) construction
  line L50 (13.3287, 13.9502) -> (13.3287, 9.4122) construction
  line L51 (13.3287, 9.4122) -> (9.4563, 9.4122) construction
  line L52 (24.0098, 10.2078) -> (24.0098, 14.7459) construction
  line L53 (24.0098, 14.7459) -> (27.8821, 14.7459) construction
  line L54 (27.8821, 14.7459) -> (27.8821, 10.2078) construction
  line L55 (27.8821, 10.2078) -> (24.0098, 10.2078) construction
  line L56 (37.2458, 10.3504) -> (37.2458, 14.8885) construction
  line L57 (37.2458, 14.8885) -> (41.1181, 14.8885) construction
  line L58 (41.1181, 14.8885) -> (41.1181, 10.3504) construction
  line L59 (41.1181, 10.3504) -> (37.2458, 10.3504) construction
  line L60 (52.3964, 11.1257) -> (52.3964, 15.6638) construction
  line L61 (52.3964, 15.6638) -> (56.2687, 15.6638) construction
  line L62 (56.2687, 15.6638) -> (56.2687, 11.1257) construction
  line L63 (56.2687, 11.1257) -> (52.3964, 11.1257) construction
  point P0 (0, 0)
properties part number "keypad"
